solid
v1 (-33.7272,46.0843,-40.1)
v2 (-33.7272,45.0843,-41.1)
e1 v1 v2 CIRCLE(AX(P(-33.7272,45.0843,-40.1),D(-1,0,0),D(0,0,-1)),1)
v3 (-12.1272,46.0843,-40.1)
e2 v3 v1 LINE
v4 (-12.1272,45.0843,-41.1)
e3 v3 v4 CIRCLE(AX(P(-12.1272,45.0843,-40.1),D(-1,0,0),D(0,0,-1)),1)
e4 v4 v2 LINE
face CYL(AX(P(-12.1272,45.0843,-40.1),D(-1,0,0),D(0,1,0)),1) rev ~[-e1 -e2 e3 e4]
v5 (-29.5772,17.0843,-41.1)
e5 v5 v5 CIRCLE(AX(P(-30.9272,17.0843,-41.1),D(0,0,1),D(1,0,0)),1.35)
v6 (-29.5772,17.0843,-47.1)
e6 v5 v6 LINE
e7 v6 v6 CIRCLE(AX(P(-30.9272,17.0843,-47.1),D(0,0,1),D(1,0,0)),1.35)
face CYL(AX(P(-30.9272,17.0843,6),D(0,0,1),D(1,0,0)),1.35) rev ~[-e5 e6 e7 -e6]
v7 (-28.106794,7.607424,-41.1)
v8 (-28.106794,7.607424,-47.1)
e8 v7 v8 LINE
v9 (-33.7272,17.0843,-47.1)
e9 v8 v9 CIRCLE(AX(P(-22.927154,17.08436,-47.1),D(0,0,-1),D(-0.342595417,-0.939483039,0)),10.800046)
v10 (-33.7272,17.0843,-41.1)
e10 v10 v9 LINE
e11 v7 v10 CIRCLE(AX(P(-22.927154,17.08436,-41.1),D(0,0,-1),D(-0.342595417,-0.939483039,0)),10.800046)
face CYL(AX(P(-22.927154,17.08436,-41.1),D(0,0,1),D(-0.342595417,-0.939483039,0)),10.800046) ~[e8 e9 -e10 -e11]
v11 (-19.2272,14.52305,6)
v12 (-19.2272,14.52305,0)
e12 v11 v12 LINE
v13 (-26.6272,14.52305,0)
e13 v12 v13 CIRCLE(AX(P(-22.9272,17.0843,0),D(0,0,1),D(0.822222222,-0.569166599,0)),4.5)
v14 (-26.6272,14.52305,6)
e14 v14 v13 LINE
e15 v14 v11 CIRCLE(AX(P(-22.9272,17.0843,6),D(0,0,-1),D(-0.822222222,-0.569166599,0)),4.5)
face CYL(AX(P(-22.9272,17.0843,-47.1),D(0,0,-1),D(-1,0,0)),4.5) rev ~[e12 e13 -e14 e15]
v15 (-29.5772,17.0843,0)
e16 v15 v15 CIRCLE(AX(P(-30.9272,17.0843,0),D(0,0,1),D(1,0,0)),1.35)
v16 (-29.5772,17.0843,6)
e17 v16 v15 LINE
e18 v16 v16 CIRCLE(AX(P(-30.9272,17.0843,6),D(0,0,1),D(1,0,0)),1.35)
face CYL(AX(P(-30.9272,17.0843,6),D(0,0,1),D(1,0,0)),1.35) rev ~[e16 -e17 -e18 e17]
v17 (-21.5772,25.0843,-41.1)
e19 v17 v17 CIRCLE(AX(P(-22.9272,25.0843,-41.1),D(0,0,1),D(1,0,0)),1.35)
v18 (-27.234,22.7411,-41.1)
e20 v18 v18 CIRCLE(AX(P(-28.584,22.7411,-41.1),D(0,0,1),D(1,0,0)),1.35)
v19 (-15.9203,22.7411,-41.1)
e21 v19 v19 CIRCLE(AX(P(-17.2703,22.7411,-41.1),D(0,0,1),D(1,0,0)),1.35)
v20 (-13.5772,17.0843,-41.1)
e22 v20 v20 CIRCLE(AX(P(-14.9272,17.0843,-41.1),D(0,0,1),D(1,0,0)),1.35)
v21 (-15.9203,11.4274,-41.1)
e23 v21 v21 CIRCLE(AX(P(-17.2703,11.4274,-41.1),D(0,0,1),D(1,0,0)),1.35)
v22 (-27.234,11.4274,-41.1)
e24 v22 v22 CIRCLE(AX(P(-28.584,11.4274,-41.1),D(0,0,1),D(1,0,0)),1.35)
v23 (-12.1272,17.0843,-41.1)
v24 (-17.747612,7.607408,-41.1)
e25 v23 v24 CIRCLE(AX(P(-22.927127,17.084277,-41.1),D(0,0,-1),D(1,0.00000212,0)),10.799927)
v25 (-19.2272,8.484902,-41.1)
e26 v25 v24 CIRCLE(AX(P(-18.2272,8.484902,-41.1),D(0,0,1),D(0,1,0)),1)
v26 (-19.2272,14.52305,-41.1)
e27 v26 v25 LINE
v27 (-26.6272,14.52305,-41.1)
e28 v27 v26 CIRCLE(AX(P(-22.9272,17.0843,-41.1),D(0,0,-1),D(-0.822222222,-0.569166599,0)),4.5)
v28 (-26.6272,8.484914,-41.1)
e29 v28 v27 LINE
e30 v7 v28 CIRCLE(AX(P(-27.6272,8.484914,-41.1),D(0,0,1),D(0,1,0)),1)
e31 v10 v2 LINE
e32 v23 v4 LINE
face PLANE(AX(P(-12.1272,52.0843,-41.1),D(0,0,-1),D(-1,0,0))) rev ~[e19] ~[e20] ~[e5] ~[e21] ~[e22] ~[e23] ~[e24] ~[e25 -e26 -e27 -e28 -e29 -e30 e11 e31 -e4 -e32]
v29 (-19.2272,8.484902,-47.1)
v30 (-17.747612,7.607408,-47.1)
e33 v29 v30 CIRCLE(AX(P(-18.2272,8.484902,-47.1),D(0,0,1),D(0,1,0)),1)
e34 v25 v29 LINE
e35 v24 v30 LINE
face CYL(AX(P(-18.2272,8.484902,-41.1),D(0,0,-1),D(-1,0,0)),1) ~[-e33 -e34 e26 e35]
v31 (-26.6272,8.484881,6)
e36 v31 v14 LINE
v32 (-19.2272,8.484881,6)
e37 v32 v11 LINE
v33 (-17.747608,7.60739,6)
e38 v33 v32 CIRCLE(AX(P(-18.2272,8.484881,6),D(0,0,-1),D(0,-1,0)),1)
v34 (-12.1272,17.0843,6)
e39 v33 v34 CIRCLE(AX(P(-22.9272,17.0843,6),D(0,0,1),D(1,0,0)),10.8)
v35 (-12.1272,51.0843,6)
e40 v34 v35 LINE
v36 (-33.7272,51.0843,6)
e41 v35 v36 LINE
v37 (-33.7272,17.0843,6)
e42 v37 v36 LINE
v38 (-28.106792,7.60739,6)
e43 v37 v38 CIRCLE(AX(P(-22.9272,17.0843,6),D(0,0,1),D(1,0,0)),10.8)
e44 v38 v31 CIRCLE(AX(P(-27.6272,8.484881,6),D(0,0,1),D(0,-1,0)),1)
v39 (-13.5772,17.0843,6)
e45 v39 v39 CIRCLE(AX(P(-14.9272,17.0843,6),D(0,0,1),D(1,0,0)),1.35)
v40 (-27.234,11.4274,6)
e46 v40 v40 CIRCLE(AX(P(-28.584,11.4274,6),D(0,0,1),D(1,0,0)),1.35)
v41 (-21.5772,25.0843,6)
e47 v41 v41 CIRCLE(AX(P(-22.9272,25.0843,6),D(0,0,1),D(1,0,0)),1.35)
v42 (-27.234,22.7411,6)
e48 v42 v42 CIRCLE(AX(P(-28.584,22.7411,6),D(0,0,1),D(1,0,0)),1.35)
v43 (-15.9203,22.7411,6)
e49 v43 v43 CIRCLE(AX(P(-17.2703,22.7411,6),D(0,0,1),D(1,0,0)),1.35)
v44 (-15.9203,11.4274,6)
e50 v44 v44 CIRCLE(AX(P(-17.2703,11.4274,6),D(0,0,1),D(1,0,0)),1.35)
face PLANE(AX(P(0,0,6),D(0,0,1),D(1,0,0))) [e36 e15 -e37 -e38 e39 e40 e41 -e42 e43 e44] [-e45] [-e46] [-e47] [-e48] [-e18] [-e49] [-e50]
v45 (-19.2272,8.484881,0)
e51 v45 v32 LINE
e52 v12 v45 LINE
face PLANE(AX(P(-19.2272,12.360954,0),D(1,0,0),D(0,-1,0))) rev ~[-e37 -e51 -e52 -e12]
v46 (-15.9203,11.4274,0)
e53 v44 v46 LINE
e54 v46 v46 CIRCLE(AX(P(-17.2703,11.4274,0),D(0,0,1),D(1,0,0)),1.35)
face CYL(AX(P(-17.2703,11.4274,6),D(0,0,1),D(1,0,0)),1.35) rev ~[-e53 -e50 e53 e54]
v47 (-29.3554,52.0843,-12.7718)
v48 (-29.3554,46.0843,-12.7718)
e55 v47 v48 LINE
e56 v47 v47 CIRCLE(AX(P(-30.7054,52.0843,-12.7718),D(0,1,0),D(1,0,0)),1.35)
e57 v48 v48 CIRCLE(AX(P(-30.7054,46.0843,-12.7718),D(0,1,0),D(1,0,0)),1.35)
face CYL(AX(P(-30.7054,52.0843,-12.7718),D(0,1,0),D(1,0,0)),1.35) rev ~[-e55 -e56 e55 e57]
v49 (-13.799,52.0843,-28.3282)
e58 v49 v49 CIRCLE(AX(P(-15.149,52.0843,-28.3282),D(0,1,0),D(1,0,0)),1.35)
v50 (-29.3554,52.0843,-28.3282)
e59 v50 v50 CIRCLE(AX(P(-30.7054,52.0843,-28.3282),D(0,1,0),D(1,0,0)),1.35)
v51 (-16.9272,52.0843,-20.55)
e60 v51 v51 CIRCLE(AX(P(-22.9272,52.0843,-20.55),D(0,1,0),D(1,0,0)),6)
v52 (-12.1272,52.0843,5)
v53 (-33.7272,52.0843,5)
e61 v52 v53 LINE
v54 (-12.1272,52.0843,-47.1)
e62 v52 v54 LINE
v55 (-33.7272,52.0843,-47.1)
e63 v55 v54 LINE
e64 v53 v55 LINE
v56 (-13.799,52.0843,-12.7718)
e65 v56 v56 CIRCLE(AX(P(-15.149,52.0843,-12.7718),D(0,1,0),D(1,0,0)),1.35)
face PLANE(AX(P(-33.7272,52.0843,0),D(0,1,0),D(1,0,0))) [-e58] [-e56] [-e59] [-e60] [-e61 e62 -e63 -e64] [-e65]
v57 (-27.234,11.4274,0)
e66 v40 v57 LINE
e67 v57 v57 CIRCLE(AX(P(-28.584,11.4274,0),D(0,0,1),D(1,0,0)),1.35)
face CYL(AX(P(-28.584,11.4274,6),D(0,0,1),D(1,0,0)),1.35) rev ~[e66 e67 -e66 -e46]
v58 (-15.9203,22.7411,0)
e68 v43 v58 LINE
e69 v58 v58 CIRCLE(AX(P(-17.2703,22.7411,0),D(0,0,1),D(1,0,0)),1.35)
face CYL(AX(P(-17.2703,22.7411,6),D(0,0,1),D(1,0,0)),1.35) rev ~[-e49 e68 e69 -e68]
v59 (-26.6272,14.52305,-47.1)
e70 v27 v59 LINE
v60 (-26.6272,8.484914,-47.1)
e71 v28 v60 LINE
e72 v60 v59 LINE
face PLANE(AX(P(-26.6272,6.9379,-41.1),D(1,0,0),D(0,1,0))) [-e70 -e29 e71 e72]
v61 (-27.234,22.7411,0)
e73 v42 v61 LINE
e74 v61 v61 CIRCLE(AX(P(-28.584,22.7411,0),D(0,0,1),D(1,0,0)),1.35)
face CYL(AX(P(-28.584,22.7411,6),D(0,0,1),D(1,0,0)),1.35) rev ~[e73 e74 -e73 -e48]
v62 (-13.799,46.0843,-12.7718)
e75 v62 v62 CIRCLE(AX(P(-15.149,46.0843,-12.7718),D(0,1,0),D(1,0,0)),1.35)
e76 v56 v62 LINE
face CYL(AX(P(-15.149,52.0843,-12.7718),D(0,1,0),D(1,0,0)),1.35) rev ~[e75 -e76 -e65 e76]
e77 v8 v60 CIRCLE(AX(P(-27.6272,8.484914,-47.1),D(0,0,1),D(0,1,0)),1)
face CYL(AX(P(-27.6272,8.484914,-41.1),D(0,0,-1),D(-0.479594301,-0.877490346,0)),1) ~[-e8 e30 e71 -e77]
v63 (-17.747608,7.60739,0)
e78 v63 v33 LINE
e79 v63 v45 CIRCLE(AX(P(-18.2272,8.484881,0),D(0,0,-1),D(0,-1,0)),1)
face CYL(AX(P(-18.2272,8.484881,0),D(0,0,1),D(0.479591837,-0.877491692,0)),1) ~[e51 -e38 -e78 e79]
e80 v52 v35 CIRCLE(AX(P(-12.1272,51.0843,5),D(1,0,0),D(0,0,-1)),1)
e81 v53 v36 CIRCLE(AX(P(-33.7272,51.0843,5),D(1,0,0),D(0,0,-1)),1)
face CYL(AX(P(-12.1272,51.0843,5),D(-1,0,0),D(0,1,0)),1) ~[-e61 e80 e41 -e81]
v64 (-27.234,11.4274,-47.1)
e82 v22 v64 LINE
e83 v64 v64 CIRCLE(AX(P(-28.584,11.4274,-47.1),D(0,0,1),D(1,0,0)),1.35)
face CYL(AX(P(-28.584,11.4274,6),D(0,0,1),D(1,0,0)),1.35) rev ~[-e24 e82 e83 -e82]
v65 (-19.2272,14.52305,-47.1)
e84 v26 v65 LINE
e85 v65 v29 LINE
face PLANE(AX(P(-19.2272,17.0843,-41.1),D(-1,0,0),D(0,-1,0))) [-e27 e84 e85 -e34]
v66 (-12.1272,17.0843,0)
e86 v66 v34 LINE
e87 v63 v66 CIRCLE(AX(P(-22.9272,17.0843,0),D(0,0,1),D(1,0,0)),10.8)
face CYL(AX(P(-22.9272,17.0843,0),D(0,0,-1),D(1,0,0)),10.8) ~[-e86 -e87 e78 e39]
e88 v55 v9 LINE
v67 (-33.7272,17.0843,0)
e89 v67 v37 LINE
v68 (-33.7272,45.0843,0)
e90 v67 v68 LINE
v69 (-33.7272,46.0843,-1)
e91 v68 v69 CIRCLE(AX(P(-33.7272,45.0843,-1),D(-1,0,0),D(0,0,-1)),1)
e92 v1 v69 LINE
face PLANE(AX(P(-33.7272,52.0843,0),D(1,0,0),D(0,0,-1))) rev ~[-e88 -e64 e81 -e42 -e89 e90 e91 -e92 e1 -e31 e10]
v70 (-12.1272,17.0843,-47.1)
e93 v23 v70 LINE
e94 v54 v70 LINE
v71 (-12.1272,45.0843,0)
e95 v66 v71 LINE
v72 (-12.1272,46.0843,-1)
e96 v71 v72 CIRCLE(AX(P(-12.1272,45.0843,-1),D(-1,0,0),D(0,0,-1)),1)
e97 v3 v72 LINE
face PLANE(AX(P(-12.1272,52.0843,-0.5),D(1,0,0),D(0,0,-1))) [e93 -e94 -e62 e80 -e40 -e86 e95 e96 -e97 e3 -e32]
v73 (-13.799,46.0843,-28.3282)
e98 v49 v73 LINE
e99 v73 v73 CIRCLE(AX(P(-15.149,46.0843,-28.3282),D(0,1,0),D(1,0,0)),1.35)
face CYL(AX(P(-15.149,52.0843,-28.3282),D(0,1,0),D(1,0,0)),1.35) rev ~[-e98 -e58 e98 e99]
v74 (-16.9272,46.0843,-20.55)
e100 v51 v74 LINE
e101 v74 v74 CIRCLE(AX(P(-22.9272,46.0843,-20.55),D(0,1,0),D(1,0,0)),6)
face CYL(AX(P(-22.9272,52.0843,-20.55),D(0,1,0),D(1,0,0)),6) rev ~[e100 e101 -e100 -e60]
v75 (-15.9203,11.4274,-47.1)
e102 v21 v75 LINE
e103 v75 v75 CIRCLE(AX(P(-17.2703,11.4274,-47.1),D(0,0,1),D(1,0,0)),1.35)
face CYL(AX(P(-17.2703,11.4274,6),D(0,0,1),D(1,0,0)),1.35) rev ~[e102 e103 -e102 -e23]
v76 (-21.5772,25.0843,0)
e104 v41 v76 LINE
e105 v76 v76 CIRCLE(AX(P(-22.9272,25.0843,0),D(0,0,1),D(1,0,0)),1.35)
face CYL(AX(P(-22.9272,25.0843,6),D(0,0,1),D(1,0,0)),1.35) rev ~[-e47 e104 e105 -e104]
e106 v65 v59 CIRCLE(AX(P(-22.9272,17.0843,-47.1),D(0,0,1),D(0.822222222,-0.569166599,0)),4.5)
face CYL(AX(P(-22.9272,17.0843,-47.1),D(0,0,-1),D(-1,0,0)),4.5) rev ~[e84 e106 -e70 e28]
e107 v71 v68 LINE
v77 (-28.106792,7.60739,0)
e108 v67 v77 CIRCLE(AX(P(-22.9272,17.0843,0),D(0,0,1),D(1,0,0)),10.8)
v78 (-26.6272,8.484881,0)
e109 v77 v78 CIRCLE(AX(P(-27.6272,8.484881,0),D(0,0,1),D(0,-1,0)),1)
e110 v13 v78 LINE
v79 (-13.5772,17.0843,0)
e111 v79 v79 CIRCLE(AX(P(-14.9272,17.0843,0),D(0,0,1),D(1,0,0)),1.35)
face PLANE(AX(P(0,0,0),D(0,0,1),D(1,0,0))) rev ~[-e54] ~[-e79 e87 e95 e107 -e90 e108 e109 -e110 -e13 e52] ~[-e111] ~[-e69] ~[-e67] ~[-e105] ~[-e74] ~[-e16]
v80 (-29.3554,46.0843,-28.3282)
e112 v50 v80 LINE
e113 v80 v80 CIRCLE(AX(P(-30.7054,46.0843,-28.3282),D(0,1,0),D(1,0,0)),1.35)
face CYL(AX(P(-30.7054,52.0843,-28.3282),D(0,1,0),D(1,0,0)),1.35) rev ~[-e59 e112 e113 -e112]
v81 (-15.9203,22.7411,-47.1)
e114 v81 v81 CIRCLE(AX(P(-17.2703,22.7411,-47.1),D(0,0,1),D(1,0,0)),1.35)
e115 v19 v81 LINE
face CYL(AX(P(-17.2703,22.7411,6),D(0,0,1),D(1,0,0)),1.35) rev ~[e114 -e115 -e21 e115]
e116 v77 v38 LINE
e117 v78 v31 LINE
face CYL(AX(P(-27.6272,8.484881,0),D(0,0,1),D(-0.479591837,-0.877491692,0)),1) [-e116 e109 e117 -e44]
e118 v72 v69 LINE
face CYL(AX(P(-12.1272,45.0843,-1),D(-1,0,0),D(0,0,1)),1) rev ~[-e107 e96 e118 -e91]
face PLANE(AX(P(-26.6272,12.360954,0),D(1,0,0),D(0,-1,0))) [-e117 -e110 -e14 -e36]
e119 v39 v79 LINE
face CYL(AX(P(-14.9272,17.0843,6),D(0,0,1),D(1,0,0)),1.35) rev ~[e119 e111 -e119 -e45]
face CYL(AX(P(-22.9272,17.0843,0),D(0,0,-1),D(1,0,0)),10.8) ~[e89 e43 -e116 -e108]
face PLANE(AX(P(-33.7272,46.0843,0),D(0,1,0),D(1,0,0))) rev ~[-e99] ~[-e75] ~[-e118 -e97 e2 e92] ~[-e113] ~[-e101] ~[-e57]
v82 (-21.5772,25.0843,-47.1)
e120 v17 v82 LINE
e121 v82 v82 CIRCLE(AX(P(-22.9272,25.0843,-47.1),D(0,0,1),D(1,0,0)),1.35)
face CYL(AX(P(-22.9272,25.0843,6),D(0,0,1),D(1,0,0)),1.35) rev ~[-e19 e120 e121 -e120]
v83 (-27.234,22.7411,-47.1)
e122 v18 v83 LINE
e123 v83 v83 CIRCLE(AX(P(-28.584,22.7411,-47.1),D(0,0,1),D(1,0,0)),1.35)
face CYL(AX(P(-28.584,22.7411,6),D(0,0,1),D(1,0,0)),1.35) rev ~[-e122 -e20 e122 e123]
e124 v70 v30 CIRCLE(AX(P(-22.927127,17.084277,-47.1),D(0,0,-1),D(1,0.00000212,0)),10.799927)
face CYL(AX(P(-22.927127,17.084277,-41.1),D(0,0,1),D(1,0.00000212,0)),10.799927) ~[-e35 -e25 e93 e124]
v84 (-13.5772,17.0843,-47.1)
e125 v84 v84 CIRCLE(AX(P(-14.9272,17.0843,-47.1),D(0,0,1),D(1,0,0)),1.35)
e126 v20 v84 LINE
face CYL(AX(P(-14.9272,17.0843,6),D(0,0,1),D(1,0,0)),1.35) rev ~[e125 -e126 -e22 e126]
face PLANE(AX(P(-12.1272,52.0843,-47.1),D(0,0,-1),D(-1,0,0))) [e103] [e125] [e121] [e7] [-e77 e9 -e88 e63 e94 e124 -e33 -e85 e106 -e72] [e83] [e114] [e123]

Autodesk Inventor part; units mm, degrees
ref_plane "YZ Plane" through (0, 0, 0) normal (1, 0, 0) x (0, 1, 0)
ref_plane "XZ Plane" through (0, 0, 0) normal (0, 1, 0) x (-1, 0, 0)
ref_plane "XY Plane" through (0, 0, 0) normal (0, 0, 1) x (1, 0, 0)
sketch "스케치1" plane through (0, 0, 0) normal (0, 0, 1) x (1, 0, 0)
  circle A0 centre (-22.9272, 17.0843) radius 10.8
  circle A1 centre (-22.9272, 17.0843) radius 6
  circle A2 centre (-22.9272, 9.0843) radius 1.05
  circle A3 centre (-28.584, 11.4274) radius 1.05
  circle A4 centre (-30.9272, 17.0843) radius 1.05
  circle A5 centre (-28.584, 22.7411) radius 1.05
  circle A6 centre (-22.9272, 25.0843) radius 1.05
  circle A7 centre (-17.2703, 22.7411) radius 1.05
  circle A8 centre (-14.9272, 17.0843) radius 1.05
  circle A9 centre (-17.2703, 11.4274) radius 1.05
  circle A10 centre (-28.584, 22.7411) radius 1.15
  circle A11 centre (-22.9272, 25.0843) radius 1.15
  circle A12 centre (-17.2703, 22.7411) radius 1.15
  circle A13 centre (-14.9272, 17.0843) radius 1.15
  circle A14 centre (-17.2703, 11.4274) radius 1.15
  circle A15 centre (-28.584, 11.4274) radius 1.15
  circle A16 centre (-30.9272, 17.0843) radius 1.15
  circle A17 centre (-22.9272, 17.0843) radius 3.5
  arc A18 (-19.2272, 17.0843) -> (-26.6272, 17.0843) centre (-22.9272, 17.0843) ccw
  arc A19 (-19.2272, 6.9378) -> (-26.6272, 6.9378) centre (-22.9272, 17.0843) ccw
  line L0 (-26.6272, 17.0843) -> (-26.6272, 6.9378)
  line L1 (-19.2272, 17.0843) -> (-19.2272, 6.9378)
  line L2 (-33.7272, 17.0843) -> (-33.7272, 52.0843)
  line L3 (-12.1272, 17.0843) -> (-12.1272, 52.0843)
  line L4 (-12.1272, 52.0843) -> (-33.7272, 52.0843)
  line L5 (-33.7272, 52.0843) -> (-12.1272, 52.0843)
  line L6 (-12.1272, 52.0843) -> (-12.1272, 58.0843)
  line L7 (-12.1272, 58.0843) -> (-33.7272, 58.0843)
  line L8 (-33.7272, 58.0843) -> (-33.7272, 52.0843)
  point P0 (0, 0)
  dimension "d0" = 0.1
  dimension "d1" = 0.1
  dimension "d2" = 0.1
  dimension "d3" = 0.1
  dimension "d4" = 0.1
  dimension "d5" = 0.1
  dimension "d6" = 0.1
  dimension "d7" = 0.2
  dimension "d8" = 35
  dimension "d9" = 35
  dimension "d10" = 6
extrude "돌출1" add sketch "스케치1" along normal blind 6 contours A0 L1 A1 L0 | A0 L2 L4 L3 | L1 A18 L0 A1 | A3 | A4 | A5 | A6 | A7 | A8 | A9 | A10 | A11 | A12 | A13 | A14 | A15 | A16 picked at (-19.6686, 25.2568) picked at (-26.9638, 14.2707)
sketch "스케치3" plane through (-33.7272, 52.0843, 0) normal (0, 1, 0) x (1, 0, 0)
  line L0 (0, -5.5) -> (21.6, -5.5)
  line L1 (21.6, -5.5) -> (21.6, 0.5)
  line L2 (0, -5.5) -> (0, 0.5)
  line L3 (0, -5.5) -> (21.6, -5.5)
  line L4 (0, -5.5) -> (21.6, -5.5)
  line L5 (21.6, -5.5) -> (21.6, 0.5)
  line L6 (0, -5.5) -> (0, 0.5)
  circle A0 centre (3.0218, -2.5) radius 1.45
  circle A1 centre (18.5782, -2.5) radius 1.45
  line L7 (21.6, 0.5) -> (21.6, 0)
  line L8 (21.6, 0) -> (0, 0)
  line L9 (0, 0) -> (0, 0.5)
  line L10 (21.6, 0) -> (0, 0) projected
  line L11 (0, 0) -> (0, -6) projected
  line L12 (21.6, -6) -> (0, -6) projected
  line L13 (21.6, 0) -> (21.6, -6) projected
  circle A2 centre (10.8, 20.55) radius 6
  line L14 (0, 0) -> (21.6, 0)
  line L15 (21.6, 0) -> (21.6, 41.1)
  line L16 (21.6, 41.1) -> (0, 41.1)
  line L17 (0, 41.1) -> (0, 0)
  line L18 (0, 41.1) -> (21.6, 41.1)
  line L19 (21.6, 41.1) -> (21.6, 47.1)
  line L20 (21.6, 47.1) -> (0, 47.1)
  line L21 (0, 47.1) -> (0, 41.1)
  circle A3 centre (18.5782, 12.7718) radius 1.35
  circle A4 centre (18.5782, 28.3282) radius 1.35
  circle A5 centre (3.0218, 28.3282) radius 1.35
  circle A6 centre (3.0218, 12.7718) radius 1.35
  point P0 (33.7272, 0)
  dimension "d13" = 2.9
  dimension "d14" = 2.9
  dimension "d19" = 0.5
  dimension "d24" = 12
  dimension "d25" = 41.1
  dimension "d26" = 6
  dimension "d29" = 2.7
  dimension "d30" = 2.7
  dimension "d31" = 2.7
  dimension "d32" = 2.7
extrude "돌출2" add sketch "스케치3" against normal blind 6 contours L2 L17 L16 L15 L1 L8
sketch "스케치5" plane through (-12.1272, 52.0843, -41.1) normal (0, 0, -1) x (-1, 0, 0)
  line L0 (19.9594, -6) -> (17.1969, -6) projected
  line L1 (17.1969, 0) -> (19.9594, 0) projected
  line L2 (4.4031, -6) -> (1.6406, -6) projected
  line L3 (1.6406, 0) -> (4.4031, 0) projected
  line L4 (4.4031, -6) -> (1.6406, -6) projected
  line L5 (1.6406, 0) -> (4.4031, 0) projected
  line L6 (0, 0) -> (0, -6) projected
  line L7 (0, 0) -> (21.6, 0) projected
  line L8 (0, 0) -> (0, -6) projected
  line L9 (21.6, -6) -> (0, -6) projected
  line L10 (21.6, 0) -> (21.6, -6) projected
  line L11 (0, 0) -> (21.6, 0) projected
  line L12 (21.6, -6) -> (0, -6) projected
  line L13 (21.6, 0) -> (21.6, -6) projected
  line L14 (19.9594, -6) -> (17.1969, -6) projected
  line L15 (17.1969, 0) -> (19.9594, 0) projected
  arc A0 (14.5, -35) -> (7.1, -35) centre (10.8, -35) ccw projected
  line L16 (16.8, -6) -> (4.8, -6) projected
  line L17 (16.8, -6) -> (4.8, -6) projected
  line L18 (4.8, 0) -> (16.8, 0) projected
  line L19 (4.8, 0) -> (16.8, 0) projected
  line L20 (21.6, -6) -> (0, -6) projected
  line L21 (21.6, -6) -> (0, -6) projected
  line L22 (16.8, -6) -> (4.8, -6) projected
  line L23 (4.8, 0) -> (16.8, 0) projected
  line L24 (0, 0) -> (21.6, 0) projected
  line L25 (0, 0) -> (21.6, 0) projected
  line L26 (21.6, -6) -> (21.6, -35) projected
  line L27 (21.6, 0) -> (21.6, -35) projected
  line L28 (21.6, 0) -> (21.6, -6) projected
  line L29 (0, -35) -> (0, -6) projected
  line L30 (0, 0) -> (0, -6) projected
  line L31 (0, -35) -> (0, 0) projected
  line L32 (1.6406, 0) -> (4.4031, 0) projected
  line L33 (4.4031, -6) -> (1.6406, -6) projected
  line L34 (1.6406, 0) -> (4.4031, 0) projected
  line L35 (17.1969, 0) -> (19.9594, 0) projected
  line L36 (19.9594, -6) -> (17.1969, -6) projected
  line L37 (17.1969, 0) -> (19.9594, 0) projected
  arc A1 (14.5, -35) -> (7.1, -35) centre (10.8, -35) ccw projected
  line L38 (0, -35) -> (0, -6) projected
  line L39 (0, 0) -> (21.6, 0) projected
  line L40 (0, -35) -> (0, 0) projected
  line L41 (19.9594, -6) -> (17.1969, -6) projected
  line L42 (21.6, -6) -> (0, -6) projected
  circle A2 centre (10.8, -12) radius 1.15 projected
  circle A3 centre (5.1431, -14.3431) radius 1.15 projected
  line L43 (21.6, 0) -> (21.6, -35) projected
  circle A4 centre (16.4569, -14.3431) radius 1.15 projected
  circle A5 centre (10.8, -12) radius 1.15 projected
  circle A6 centre (5.1431, -14.3431) radius 1.15 projected
  line L44 (21.6, -6) -> (21.6, -35) projected
  circle A7 centre (16.4569, -14.3431) radius 1.15 projected
  circle A8 centre (5.1431, -25.6569) radius 1.15 projected
  circle A9 centre (5.1431, -25.6569) radius 1.15 projected
  circle A10 centre (5.1431, -25.6569) radius 1.15 projected
  circle A11 centre (5.1431, -25.6569) radius 1.15 projected
  arc A12 (14.5, -45.1464) -> (21.6, -35) centre (10.8, -35) ccw projected
  arc A13 (14.5, -45.1464) -> (21.6, -35) centre (10.8, -35) ccw projected
  line L45 (14.5, -45.1464) -> (14.5, -35) projected
  line L46 (14.5, -45.1464) -> (14.5, -35) projected
  line L47 (7.1, -35) -> (7.1, -45.1464) projected
  line L48 (7.1, -35) -> (7.1, -45.1464) projected
  arc A14 (0, -35) -> (7.1, -45.1464) centre (10.8, -35) ccw projected
  arc A15 (0, -35) -> (7.1, -45.1464) centre (10.8, -35) ccw projected
  circle A16 centre (16.4569, -25.6569) radius 1.15 projected
  circle A17 centre (16.4569, -25.6569) radius 1.15 projected
  circle A18 centre (18.8, -20) radius 1.15 projected
  circle A19 centre (18.8, -20) radius 1.15 projected
  circle A20 centre (10.8, -12) radius 1.15 projected
  circle A21 centre (10.8, -12) radius 1.15 projected
  circle A22 centre (5.1431, -14.3431) radius 1.15 projected
  circle A23 centre (5.1431, -14.3431) radius 1.15 projected
  circle A24 centre (16.4569, -14.3431) radius 1.15 projected
  circle A25 centre (16.4569, -14.3431) radius 1.15 projected
  line L49 (21.6, -6) -> (0, -6) projected
  line L50 (0, -35) -> (0, -6) projected
  arc A26 (0, -35) -> (7.1, -45.1464) centre (10.8, -35) ccw projected
  line L51 (7.1, -35) -> (7.1, -45.1464) projected
  arc A27 (14.5, -35) -> (7.1, -35) centre (10.8, -35) ccw projected
  line L52 (14.5, -45.1464) -> (14.5, -35) projected
  arc A28 (14.5, -45.1464) -> (21.6, -35) centre (10.8, -35) ccw projected
  line L53 (21.6, -6) -> (21.6, -35) projected
  arc A29 (14.5, -45.1464) -> (21.6, -35) centre (10.8, -35) ccw projected
  line L54 (14.5, -45.1464) -> (14.5, -35) projected
  arc A30 (14.5, -35) -> (7.1, -35) centre (10.8, -35) ccw projected
  line L55 (7.1, -35) -> (7.1, -45.1464) projected
  arc A31 (0, -35) -> (7.1, -45.1464) centre (10.8, -35) ccw projected
  line L56 (0, -35) -> (0, 0) projected
  line L57 (0, 0) -> (21.6, 0) projected
  line L58 (21.6, 0) -> (21.6, -35) projected
  arc A32 (14.5, -35) -> (7.1, -35) centre (10.8, -35) ccw projected
  arc A33 (14.5, -35) -> (7.1, -35) centre (10.8, -35) ccw projected
  circle A34 centre (2.8, -20) radius 1.15 projected
  circle A35 centre (2.8, -20) radius 1.15 projected
  circle A36 centre (18.8, -20) radius 1.15 projected
  circle A37 centre (18.8, -20) radius 1.15 projected
  arc A38 (0, -35) -> (7.1, -45.1464) centre (10.8, -35) ccw projected
  arc A39 (0, -35) -> (7.1, -45.1464) centre (10.8, -35) ccw projected
  line L59 (7.1, -35) -> (7.1, -45.1464) projected
  line L60 (7.1, -35) -> (7.1, -45.1464) projected
  arc A40 (14.5, -45.1464) -> (21.6, -35) centre (10.8, -35) ccw projected
  arc A41 (14.5, -45.1464) -> (21.6, -35) centre (10.8, -35) ccw projected
  line L61 (14.5, -45.1464) -> (14.5, -35) projected
  line L62 (14.5, -45.1464) -> (14.5, -35) projected
  circle A42 centre (16.4569, -25.6569) radius 1.15 projected
  circle A43 centre (16.4569, -25.6569) radius 1.15 projected
  line L63 (4.4031, -6) -> (1.6406, -6) projected
  circle A44 centre (2.8, -20) radius 1.05
  circle A45 centre (5.1431, -25.6569) radius 1.05
  circle A46 centre (5.1431, -14.3431) radius 1.05
  circle A47 centre (10.8, -12) radius 1.05
  circle A48 centre (16.4569, -14.3431) radius 1.05
  circle A49 centre (18.8, -20) radius 1.05
  circle A50 centre (16.4569, -25.6569) radius 1.05
  point P0 (-12.1272, -52.0843)
  point P1 (21.6, -6)
  point P2 (0, -6)
  point P3 (21.6, -6)
  point P4 (0, -6)
  point P5 (0, -6)
  dimension "d34" = 0.1
  dimension "d35" = 0.1
  dimension "d36" = 0.1
  dimension "d37" = 0.1
  dimension "d38" = 0.1
  dimension "d39" = 0.1
extrude "돌출4" add sketch "스케치5" along normal blind 6 contours L9 L26 A12 L45 A0 L47 A14 L29 L2 L0 | L0 L9 L2 L6 L7 L3 L1 L10 | A2 | A3 | A4 | A8 | A16 | A18 | A34 | A44 | A45 | A46 | A47 | A48 | A49 | A50
sketch "스케치6" plane through (0, 0, 6) normal (0, 0, 1) x (1, 0, 0)
  arc A0 (-33.7272, 17.0843) -> (-26.6272, 6.9378) centre (-22.9272, 17.0843) ccw projected
  line L0 (-26.6272, 6.9378) -> (-26.6272, 17.0843) projected
  arc A1 (-19.2272, 17.0843) -> (-26.6272, 17.0843) centre (-22.9272, 17.0843) ccw projected
  line L1 (-19.2272, 17.0843) -> (-19.2272, 6.9378) projected
  arc A2 (-19.2272, 6.9378) -> (-12.1272, 17.0843) centre (-22.9272, 17.0843) ccw projected
  line L2 (-12.1272, 17.0843) -> (-12.1272, 52.0843) projected
  line L3 (-12.1272, 52.0843) -> (-33.7272, 52.0843) projected
  line L4 (-33.7272, 52.0843) -> (-33.7272, 17.0843) projected
  circle A3 centre (-17.2703, 22.7411) radius 1.05 projected
  circle A4 centre (-22.9272, 25.0843) radius 1.05 projected
  circle A5 centre (-28.584, 22.7411) radius 1.05 projected
  circle A6 centre (-30.9272, 17.0843) radius 1.05 projected
  circle A7 centre (-28.584, 11.4274) radius 1.05 projected
  circle A8 centre (-17.2703, 11.4274) radius 1.05 projected
  circle A9 centre (-14.9272, 17.0843) radius 1.05 projected
  circle A10 centre (-28.584, 22.7411) radius 1.35
  circle A11 centre (-22.9272, 25.0843) radius 1.35
  circle A12 centre (-17.2703, 22.7411) radius 1.35
  circle A13 centre (-14.9272, 17.0843) radius 1.35
  circle A14 centre (-17.2703, 11.4274) radius 1.35
  circle A15 centre (-28.584, 11.4274) radius 1.35
  circle A16 centre (-30.9272, 17.0843) radius 1.35
  point P0 (0, 0)
  dimension "d40" = 2.7
  dimension "d41" = 2.7
  dimension "d42" = 2.7
  dimension "d43" = 2.7
  dimension "d44" = 2.7
  dimension "d45" = 2.7
  dimension "d46" = 2.7
extrude "돌출5" cut sketch "스케치6" against normal blind 100 contours A3 | A4 | A5 | A6 | A7 | A8 | A9 | A10 | A11 | A12 | A13 | A14 | A15 | A16
fillet "모깎기2" radius 1 7 edges at (-26.6272, 6.9378, 3) (-26.6272, 6.9378, -44.1) (-19.2272, 6.9378, 3) (-19.2272, 6.9378, -44.1) (-22.9272, 46.0843, -41.1) (-22.9272, 46.0843, 0) (-22.9272, 52.0843, 6)
sketch "스케치7" plane through (-12.1272, 52.0843, -47.1) normal (0, 0, -1) x (-1, 0, 0)
  circle A0 centre (16.4569, -29.3431) radius 1.35 projected
  circle A1 centre (18.8, -35) radius 1.35 projected
  circle A2 centre (5.1431, -40.6569) radius 1.35 projected
  circle A3 centre (10.8, -27) radius 1.35 projected
  circle A4 centre (5.1431, -29.3431) radius 1.35 projected
  circle A5 centre (16.4569, -40.6569) radius 1.35 projected
  circle A6 centre (2.8, -35) radius 1.35 projected
  line L0 (0, -1) -> (21.6, -1) projected
  line L1 (0, -1) -> (0, -35) projected
  arc A7 (0, -35) -> (5.6204, -44.4769) centre (10.8, -35) ccw projected
  arc A8 (5.6204, -44.4769) -> (7.1, -43.5994) centre (6.1, -43.5994) ccw projected
  line L2 (7.1, -43.5994) -> (7.1, -35) projected
  arc A9 (14.5, -35) -> (7.1, -35) centre (10.8, -35) ccw projected
  line L3 (14.5, -35) -> (14.5, -43.5994) projected
  arc A10 (14.5, -43.5994) -> (15.9796, -44.4769) centre (15.5, -43.5994) ccw projected
  arc A11 (15.9796, -44.4769) -> (21.6, -35) centre (10.8, -35) ccw projected
  line L4 (21.6, -35) -> (21.6, -1) projected
  circle A12 centre (10.8, -35) radius 4.5
  point P0 (-12.1272, -52.0843)
  dimension "d51" = 9
extrude "돌출6" cut sketch "스케치7" against normal blind 100 contours A12 L3 A9 L2 | L2 A9 L3 A12
properties part number "3D_upper_to_arm1" material "PMMA 플라스틱"
